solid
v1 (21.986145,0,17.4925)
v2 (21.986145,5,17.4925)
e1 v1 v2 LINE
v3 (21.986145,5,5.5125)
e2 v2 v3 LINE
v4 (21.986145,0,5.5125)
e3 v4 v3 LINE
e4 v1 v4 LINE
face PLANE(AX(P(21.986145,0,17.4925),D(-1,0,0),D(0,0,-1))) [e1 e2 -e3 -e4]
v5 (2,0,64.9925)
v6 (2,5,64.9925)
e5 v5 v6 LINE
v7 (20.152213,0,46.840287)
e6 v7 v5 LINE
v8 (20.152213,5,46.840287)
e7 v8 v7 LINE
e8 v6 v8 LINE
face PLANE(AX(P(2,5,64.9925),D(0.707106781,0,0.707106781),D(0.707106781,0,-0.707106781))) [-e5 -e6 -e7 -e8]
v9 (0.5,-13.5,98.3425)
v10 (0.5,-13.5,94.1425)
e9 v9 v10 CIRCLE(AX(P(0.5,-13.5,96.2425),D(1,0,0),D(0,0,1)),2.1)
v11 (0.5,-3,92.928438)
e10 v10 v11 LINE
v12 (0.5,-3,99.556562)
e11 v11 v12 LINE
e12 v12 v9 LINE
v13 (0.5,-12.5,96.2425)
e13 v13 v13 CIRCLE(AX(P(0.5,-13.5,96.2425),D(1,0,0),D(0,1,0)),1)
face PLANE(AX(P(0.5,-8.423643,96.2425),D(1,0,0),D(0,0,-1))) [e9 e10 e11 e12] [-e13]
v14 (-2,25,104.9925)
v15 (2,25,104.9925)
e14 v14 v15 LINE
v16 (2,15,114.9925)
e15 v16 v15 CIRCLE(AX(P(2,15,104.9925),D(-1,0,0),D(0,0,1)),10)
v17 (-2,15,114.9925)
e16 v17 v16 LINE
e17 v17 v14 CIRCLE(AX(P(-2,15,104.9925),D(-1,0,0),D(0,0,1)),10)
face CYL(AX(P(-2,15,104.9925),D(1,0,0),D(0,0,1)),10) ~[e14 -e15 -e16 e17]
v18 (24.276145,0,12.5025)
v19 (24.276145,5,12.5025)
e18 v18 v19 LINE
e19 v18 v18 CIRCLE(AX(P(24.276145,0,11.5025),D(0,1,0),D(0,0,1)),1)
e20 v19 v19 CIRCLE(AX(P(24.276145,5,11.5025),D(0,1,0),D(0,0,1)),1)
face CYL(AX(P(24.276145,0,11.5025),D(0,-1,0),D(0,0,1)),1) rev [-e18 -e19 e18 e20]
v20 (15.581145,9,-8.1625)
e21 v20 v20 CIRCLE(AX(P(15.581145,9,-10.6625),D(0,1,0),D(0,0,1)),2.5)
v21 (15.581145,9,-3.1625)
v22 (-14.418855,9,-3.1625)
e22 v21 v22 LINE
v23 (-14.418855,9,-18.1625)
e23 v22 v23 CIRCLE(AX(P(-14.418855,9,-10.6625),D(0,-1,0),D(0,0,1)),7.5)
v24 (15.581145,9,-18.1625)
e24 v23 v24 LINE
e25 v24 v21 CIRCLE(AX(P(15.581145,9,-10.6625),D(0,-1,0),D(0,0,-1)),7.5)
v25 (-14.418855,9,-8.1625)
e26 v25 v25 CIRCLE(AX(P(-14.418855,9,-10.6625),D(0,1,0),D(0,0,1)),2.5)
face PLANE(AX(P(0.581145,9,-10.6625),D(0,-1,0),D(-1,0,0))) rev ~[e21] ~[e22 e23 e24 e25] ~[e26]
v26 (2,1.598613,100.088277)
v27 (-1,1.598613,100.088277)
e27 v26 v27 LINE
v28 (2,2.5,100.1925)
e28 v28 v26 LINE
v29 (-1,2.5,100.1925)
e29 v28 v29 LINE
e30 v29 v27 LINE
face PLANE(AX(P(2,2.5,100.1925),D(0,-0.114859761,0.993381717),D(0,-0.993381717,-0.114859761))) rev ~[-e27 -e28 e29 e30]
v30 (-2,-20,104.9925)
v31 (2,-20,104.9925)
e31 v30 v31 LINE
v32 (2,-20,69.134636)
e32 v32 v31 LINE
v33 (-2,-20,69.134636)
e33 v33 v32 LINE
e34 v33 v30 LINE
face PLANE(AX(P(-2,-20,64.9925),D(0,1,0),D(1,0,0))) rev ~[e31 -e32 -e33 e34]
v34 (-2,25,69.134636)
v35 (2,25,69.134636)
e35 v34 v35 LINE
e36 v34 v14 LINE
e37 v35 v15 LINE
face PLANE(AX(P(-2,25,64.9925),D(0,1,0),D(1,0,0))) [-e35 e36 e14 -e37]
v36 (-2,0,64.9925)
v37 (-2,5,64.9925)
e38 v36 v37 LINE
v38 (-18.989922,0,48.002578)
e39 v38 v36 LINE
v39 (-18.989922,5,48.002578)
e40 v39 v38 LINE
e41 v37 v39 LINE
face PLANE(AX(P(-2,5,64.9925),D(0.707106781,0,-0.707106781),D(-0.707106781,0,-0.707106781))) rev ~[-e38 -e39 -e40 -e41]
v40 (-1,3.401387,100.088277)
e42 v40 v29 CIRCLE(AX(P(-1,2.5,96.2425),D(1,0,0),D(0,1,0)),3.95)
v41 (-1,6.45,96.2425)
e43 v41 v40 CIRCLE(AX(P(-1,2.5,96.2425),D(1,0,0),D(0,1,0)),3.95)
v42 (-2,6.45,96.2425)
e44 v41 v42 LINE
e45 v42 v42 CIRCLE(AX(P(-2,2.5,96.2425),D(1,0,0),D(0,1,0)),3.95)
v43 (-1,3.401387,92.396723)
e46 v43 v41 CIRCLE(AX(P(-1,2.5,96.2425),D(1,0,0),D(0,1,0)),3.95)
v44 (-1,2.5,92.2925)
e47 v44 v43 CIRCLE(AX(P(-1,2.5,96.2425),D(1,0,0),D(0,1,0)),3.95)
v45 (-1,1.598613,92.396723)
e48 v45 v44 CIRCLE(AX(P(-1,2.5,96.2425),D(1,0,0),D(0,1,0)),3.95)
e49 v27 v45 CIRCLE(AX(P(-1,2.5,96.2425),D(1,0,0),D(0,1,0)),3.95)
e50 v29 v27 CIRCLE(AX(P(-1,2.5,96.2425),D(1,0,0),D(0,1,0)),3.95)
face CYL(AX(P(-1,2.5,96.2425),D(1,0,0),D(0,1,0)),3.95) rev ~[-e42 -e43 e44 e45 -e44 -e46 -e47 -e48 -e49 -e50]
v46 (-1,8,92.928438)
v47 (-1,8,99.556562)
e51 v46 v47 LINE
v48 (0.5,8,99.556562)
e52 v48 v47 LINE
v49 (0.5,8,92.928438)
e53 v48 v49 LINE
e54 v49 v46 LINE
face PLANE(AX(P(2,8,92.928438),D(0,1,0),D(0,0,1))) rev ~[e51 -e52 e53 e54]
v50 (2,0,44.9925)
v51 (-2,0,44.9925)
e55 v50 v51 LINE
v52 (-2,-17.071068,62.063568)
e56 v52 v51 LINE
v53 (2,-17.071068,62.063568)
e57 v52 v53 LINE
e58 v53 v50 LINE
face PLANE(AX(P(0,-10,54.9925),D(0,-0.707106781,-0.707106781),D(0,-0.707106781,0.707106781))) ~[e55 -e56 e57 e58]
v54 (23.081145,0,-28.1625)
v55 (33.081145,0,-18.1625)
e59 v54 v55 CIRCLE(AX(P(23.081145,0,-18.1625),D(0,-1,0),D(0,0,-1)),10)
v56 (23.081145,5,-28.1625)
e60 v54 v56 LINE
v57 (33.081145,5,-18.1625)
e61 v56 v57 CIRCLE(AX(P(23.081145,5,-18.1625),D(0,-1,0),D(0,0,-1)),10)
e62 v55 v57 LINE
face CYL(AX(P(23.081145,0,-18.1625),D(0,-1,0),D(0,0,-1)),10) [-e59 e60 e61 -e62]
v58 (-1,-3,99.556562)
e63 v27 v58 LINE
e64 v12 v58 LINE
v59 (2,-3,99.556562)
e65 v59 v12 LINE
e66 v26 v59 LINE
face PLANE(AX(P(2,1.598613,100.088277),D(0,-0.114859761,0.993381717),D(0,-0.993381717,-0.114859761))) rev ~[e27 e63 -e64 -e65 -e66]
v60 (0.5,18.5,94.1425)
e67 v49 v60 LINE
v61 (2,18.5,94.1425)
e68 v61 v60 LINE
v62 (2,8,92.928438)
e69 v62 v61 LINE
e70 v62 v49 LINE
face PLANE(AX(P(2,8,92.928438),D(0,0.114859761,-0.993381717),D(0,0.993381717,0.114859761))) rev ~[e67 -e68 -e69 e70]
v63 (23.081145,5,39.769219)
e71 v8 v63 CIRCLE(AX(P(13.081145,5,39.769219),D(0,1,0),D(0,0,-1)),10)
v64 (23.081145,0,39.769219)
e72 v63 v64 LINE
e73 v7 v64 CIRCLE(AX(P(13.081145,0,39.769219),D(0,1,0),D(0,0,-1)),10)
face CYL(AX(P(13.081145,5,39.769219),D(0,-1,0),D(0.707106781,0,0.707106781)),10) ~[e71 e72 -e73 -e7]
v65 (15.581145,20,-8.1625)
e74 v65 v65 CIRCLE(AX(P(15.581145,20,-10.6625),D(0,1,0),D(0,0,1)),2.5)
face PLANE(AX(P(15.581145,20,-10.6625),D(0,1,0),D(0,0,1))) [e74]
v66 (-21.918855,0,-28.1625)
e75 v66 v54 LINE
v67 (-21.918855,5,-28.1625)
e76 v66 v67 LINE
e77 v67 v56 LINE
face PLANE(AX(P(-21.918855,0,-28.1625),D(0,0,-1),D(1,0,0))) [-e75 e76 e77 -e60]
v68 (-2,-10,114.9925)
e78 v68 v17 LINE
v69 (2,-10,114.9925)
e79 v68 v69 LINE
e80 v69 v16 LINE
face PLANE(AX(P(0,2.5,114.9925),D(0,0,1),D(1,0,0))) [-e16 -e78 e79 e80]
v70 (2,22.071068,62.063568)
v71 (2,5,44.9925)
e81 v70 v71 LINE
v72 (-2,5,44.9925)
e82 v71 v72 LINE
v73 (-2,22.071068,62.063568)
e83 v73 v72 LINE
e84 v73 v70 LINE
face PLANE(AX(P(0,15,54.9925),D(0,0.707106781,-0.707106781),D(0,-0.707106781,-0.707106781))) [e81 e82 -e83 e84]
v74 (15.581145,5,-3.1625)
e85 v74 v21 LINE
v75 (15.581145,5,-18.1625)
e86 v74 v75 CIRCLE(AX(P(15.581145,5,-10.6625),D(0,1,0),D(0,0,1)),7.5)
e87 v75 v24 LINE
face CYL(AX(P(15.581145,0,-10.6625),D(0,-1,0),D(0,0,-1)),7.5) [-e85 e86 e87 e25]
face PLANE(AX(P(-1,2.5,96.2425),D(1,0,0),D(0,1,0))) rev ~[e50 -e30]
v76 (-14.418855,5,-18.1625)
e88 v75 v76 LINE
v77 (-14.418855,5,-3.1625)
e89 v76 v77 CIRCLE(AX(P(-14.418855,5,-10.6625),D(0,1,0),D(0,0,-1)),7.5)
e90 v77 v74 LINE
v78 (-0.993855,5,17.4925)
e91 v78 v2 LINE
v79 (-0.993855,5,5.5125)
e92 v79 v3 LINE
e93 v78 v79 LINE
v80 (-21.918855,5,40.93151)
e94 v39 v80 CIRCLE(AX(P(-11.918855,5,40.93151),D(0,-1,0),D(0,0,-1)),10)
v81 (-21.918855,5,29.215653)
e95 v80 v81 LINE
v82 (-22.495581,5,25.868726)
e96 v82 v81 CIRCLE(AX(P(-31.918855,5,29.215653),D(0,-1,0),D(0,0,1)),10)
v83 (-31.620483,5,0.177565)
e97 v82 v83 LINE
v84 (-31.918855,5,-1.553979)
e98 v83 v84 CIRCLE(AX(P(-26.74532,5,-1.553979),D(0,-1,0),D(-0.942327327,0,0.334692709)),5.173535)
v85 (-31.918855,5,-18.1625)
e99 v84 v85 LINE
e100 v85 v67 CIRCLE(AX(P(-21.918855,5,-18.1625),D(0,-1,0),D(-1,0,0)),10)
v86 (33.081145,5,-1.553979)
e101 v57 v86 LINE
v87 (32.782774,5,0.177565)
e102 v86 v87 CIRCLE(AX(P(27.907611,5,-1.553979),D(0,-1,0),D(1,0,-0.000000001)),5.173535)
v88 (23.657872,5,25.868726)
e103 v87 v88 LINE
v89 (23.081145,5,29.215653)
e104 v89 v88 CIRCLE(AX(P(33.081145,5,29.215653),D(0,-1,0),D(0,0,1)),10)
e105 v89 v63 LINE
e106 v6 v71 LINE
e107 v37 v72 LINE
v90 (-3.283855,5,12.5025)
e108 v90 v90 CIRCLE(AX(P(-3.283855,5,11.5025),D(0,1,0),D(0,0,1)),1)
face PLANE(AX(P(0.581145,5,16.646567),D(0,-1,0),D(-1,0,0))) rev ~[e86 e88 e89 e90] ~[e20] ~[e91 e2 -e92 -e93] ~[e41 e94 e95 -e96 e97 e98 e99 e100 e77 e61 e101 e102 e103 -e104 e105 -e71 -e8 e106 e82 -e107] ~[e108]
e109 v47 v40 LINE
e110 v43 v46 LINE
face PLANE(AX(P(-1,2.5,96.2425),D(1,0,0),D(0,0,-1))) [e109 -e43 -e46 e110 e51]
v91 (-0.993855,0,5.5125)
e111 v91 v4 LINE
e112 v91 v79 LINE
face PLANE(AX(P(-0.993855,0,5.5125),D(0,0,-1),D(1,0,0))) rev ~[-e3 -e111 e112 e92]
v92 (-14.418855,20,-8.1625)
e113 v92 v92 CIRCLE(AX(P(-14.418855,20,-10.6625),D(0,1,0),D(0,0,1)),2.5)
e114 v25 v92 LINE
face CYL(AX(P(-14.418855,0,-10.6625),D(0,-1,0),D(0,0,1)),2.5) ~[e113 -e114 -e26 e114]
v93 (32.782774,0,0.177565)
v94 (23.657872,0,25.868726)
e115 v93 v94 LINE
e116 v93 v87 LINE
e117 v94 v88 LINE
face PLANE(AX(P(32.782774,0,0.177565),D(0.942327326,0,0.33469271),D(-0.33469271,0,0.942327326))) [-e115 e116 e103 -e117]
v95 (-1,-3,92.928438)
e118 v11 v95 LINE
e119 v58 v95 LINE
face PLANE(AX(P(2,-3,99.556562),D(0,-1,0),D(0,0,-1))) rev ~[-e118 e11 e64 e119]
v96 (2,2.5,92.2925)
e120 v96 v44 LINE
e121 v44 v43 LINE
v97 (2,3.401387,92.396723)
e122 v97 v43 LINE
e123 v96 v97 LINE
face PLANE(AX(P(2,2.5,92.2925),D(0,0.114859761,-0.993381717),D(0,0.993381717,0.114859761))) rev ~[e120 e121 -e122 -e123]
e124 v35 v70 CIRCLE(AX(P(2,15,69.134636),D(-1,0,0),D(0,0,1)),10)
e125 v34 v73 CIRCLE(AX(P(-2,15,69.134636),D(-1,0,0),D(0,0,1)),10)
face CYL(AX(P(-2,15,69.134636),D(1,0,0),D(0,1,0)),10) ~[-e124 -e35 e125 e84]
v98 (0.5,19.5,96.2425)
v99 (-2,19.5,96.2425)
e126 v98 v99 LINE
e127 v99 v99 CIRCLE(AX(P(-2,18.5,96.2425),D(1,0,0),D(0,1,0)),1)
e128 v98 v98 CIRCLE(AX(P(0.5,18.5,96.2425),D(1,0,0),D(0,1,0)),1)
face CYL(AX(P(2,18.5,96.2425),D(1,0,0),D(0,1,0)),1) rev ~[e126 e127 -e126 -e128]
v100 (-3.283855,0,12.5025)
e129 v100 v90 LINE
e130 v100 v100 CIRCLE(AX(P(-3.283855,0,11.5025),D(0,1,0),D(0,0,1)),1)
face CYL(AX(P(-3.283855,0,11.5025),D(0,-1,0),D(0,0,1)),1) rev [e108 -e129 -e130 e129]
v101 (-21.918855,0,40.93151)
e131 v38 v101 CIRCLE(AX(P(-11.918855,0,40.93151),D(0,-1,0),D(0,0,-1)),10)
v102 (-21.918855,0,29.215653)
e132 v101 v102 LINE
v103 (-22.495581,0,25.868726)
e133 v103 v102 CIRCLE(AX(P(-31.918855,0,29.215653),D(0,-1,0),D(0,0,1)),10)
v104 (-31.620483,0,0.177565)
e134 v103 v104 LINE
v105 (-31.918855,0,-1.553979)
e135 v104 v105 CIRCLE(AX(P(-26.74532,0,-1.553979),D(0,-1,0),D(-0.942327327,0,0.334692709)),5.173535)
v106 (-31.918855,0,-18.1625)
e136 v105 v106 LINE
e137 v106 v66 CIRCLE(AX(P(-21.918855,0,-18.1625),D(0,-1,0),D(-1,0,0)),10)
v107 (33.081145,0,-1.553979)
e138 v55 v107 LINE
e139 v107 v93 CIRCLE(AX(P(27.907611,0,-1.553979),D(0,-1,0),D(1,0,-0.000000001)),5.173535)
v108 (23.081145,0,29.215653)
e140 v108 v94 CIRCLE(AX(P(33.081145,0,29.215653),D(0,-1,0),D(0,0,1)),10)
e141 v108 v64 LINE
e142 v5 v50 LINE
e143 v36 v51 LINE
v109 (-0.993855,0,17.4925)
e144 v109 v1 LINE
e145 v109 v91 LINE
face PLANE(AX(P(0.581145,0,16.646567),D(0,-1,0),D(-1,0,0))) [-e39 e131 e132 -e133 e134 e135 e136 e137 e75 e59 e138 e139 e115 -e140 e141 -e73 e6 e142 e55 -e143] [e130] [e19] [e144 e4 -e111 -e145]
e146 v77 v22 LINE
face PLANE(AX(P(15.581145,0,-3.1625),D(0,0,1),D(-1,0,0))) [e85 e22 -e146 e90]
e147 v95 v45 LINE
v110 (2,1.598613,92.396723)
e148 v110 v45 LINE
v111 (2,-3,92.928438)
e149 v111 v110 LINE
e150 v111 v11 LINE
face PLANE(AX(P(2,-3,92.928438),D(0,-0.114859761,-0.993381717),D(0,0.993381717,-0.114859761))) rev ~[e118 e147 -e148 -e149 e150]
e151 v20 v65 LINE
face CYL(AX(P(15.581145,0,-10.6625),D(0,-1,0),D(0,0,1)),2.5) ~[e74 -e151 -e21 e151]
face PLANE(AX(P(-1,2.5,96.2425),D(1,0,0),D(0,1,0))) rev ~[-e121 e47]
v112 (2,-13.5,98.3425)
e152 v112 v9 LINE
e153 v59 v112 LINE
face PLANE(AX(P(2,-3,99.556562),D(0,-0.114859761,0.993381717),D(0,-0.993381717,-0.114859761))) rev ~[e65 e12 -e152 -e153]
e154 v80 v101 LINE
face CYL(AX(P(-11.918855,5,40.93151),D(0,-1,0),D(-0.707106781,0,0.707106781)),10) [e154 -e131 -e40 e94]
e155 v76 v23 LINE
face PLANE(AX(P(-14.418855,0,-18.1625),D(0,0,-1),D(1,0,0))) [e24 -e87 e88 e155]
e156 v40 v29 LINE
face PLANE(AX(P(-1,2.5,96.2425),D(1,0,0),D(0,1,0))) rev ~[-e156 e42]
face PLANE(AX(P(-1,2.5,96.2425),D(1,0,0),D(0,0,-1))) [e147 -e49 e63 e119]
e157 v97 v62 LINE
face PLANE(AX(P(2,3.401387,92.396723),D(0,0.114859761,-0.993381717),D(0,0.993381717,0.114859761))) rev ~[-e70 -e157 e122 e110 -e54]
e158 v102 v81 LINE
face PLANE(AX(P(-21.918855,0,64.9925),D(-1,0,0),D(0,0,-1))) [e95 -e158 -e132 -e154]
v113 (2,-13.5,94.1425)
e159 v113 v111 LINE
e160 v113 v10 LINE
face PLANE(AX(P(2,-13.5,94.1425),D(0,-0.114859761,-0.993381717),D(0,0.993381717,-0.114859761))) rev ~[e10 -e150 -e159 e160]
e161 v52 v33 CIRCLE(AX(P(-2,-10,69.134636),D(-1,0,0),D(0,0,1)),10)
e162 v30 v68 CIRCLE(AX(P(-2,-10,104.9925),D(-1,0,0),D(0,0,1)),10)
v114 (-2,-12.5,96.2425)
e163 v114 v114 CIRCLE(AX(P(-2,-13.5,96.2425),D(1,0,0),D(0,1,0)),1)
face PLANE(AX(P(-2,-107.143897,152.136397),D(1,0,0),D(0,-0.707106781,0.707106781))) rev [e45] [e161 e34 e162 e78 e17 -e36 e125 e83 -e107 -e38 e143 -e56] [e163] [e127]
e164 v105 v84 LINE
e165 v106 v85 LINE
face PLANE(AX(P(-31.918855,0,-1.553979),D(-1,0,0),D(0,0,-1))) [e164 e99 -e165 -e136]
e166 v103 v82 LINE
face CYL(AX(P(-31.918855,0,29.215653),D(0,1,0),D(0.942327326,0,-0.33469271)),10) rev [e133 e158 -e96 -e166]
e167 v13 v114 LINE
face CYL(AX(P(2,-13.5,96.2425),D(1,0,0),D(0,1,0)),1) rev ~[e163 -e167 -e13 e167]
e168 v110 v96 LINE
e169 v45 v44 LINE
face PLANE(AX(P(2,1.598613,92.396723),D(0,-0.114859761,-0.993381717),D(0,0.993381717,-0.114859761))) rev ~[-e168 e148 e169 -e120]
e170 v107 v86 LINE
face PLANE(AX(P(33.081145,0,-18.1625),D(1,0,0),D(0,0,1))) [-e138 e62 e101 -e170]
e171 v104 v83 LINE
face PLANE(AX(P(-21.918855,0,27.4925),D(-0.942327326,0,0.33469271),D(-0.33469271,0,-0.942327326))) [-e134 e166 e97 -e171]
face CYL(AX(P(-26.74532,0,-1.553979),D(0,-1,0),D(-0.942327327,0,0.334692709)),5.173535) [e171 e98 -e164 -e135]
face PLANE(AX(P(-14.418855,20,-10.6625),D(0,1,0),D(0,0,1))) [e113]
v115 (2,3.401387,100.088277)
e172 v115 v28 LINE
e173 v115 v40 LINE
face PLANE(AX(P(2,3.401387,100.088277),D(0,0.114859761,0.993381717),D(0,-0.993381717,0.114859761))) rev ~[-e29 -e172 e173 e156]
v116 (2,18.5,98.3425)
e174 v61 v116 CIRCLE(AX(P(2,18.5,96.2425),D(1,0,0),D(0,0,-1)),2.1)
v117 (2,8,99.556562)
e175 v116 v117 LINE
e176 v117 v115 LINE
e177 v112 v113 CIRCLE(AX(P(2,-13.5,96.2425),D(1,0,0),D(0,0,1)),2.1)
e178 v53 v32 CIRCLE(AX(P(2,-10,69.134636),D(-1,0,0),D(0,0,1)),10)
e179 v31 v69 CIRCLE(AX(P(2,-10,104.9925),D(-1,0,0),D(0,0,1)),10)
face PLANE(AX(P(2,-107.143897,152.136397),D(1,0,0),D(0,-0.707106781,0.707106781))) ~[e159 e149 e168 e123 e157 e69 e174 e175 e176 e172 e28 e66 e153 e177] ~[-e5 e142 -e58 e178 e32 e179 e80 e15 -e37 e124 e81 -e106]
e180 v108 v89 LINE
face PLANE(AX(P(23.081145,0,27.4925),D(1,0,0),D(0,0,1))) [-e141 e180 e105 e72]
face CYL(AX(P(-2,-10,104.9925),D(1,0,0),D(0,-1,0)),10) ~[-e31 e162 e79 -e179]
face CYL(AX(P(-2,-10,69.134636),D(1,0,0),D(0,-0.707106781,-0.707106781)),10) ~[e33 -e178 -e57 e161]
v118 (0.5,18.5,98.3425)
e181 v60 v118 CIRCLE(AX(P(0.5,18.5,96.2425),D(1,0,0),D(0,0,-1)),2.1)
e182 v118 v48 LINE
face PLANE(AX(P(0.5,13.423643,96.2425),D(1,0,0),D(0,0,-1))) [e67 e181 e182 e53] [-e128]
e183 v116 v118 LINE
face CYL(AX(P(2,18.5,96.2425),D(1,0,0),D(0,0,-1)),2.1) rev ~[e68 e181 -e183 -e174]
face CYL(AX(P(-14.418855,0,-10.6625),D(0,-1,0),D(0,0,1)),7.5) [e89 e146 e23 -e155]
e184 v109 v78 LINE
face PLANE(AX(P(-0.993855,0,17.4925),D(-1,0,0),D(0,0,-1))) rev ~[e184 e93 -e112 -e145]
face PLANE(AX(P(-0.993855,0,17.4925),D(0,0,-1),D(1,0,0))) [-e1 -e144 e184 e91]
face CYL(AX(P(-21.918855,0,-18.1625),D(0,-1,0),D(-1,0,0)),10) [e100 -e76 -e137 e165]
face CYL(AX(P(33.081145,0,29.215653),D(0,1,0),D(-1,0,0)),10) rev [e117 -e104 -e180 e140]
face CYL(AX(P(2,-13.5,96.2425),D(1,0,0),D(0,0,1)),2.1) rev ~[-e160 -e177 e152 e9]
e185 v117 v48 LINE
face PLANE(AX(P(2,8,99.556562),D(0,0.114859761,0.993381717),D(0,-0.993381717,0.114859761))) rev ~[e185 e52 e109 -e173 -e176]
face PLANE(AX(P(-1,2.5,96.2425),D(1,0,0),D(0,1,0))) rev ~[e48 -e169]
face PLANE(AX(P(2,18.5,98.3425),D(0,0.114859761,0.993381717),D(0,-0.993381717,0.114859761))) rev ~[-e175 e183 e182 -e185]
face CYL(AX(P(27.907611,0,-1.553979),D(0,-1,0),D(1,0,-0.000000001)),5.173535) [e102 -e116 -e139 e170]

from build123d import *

# Parameters (mm, degrees)
SKETCH1_R           = 1
SKETCH1_W           = 22.98
SKETCH1_H           = 11.98
BOSS_EXTRUDE1_DEPTH = 5
SKETCH1_3_R         = 2.5
BOSS_EXTRUDE2_DEPTH = 9
SKETCH1_4_R         = 2.5
BOSS_EXTRUDE3_DEPTH = 20
SKETCH2_W           = 4
SKETCH2_H           = 45
BOSS_EXTRUDE4_DEPTH = 50
CUT_EXTRUDE1_DEPTH  = 123.24008033
RIB8_REACH          = 124.24
SKETCH7_WALL_W      = 274.764431908
SKETCH7_WALL_H      = 4
CUT_EXTRUDE2_DEPTH  = 3
SKETCH8_3_R         = 1
CUT_EXTRUDE3_DEPTH  = 123.469440072
FILLET1_R           = 10
SKETCH8_4_R         = 1
CUT_EXTRUDE4_DEPTH  = 1.5
SKETCH9_R           = 3.95
CUT_EXTRUDE5_DEPTH  = 10


with BuildPart() as part:
    # Sketch1 → Boss-Extrude1 (new body)
    with BuildSketch(Plane(origin=(0, 0, 0), x_dir=(1, 0, 0), z_dir=(0, 1, 0))):
        with BuildLine():
            Line((-31.918854571, 1.553979184), (-31.918854571, 18.1625))
            ThreePointArc((-31.918854571, 18.1625), (-28.989922383, 25.233567812), (-21.918854571, 28.1625))
            Line((-21.918854571, 28.1625), (23.081145429, 28.1625))
            ThreePointArc((23.081145429, 28.1625), (30.152213241, 25.233567812), (33.081145429, 18.1625))
            Line((33.081145429, 18.1625), (33.081145429, 1.553979184))
            ThreePointArc((33.081145429, 1.553979184), (33.006006891, 0.67544752), (32.782773845, -0.177565195))
            Line((32.782773845, -0.177565195), (23.081145429, -27.4925))
            Line((23.081145429, -27.4925), (23.081145429, -64.9925))
            Line((23.081145429, -64.9925), (-21.918854571, -64.9925))
            Line((-21.918854571, -64.9925), (-21.918854571, -27.4925))
            Line((-21.918854571, -27.4925), (-31.620482987, -0.177565195))
            ThreePointArc((-31.620482987, -0.177565195), (-31.843716032, 0.67544752), (-31.918854571, 1.553979184))
        make_face()
        with Locations(Location((-3.283854571, -11.5025, 0), (0, 0, 270))):
            Circle(SKETCH1_R, mode=Mode.SUBTRACT)
        with Locations(Location((24.276145429, -11.5025, 0), (0, 0, 270))):
            Circle(SKETCH1_R, mode=Mode.SUBTRACT)
        with Locations((10.496145429, -11.5025)):
            Rectangle(SKETCH1_W, SKETCH1_H, mode=Mode.SUBTRACT)
        with BuildLine():
            Line((15.581145429, 18.1625), (-14.418854571, 18.1625))
            ThreePointArc((-14.418854571, 18.1625), (-21.918854571, 10.6625), (-14.418854571, 3.1625))
            Line((-14.418854571, 3.1625), (15.581145429, 3.1625))
            ThreePointArc((15.581145429, 3.1625), (23.081145429, 10.6625), (15.581145429, 18.1625))
        make_face(mode=Mode.SUBTRACT)
    extrude(amount=BOSS_EXTRUDE1_DEPTH)

    # Sketch1<3> → Boss-Extrude2 (add)
    with BuildSketch(Plane(origin=(0, 0, 0), x_dir=(1, 0, 0), z_dir=(0, 1, 0))):
        with BuildLine():
            ThreePointArc((15.581145429, 18.1625), (23.081145429, 10.6625), (15.581145429, 3.1625))
            Line((15.581145429, 3.1625), (-14.418854571, 3.1625))
            ThreePointArc((-14.418854571, 3.1625), (-21.918854571, 10.6625), (-14.418854571, 18.1625))
            Line((-14.418854571, 18.1625), (15.581145429, 18.1625))
        make_face()
        with Locations(Location((-14.418854571, 10.6625, 0), (0, 0, 270))):
            Circle(SKETCH1_3_R, mode=Mode.SUBTRACT)
        with Locations(Location((15.581145429, 10.6625, 0), (0, 0, 270))):
            Circle(SKETCH1_3_R, mode=Mode.SUBTRACT)
    extrude(amount=BOSS_EXTRUDE2_DEPTH)

    # Sketch1<4> → Boss-Extrude3 (add)
    with BuildSketch(Plane(origin=(0, 0, 0), x_dir=(1, 0, 0), z_dir=(0, 1, 0))):
        with Locations(Location((15.581145429, 10.6625, 0), (0, 0, 270))):
            Circle(SKETCH1_4_R)
        with Locations(Location((-14.418854571, 10.6625, 0), (0, 0, 270))):
            Circle(SKETCH1_4_R)
    extrude(amount=BOSS_EXTRUDE3_DEPTH)

    # Sketch2 → Boss-Extrude4 (add)
    with BuildSketch(Plane.XY.offset(64.9925)):
        with Locations((0, 2.5)):
            Rectangle(SKETCH2_W, SKETCH2_H)
    extrude(amount=BOSS_EXTRUDE4_DEPTH)

    # Sketch6 → Cut-Extrude1 (cut, through all)
    with BuildSketch(Plane(origin=(0, 5, 0), x_dir=(1, 0, 0), z_dir=(0, 1, 0))):
        Polygon((-2, -64.9925), (-21.918854571, -45.073645429), (-21.918854571, -64.9925), align=None)
        Polygon((2, -64.9925), (23.081145429, -43.911354571), (23.081145429, -64.9925), align=None)
    extrude(amount=-CUT_EXTRUDE1_DEPTH, mode=Mode.SUBTRACT)

    # Sketch7 wall → Rib8 (add, up to next)
    with BuildSketch(Plane(origin=(0, 15, 54.9925), x_dir=(0, -0.707106781187, -0.707106781187), z_dir=(0, 0.707106781187, -0.707106781187)), mode=Mode.PRIVATE) as rib8_sk1:
        Rectangle(SKETCH7_WALL_W, SKETCH7_WALL_H)
    rib8_tool1 = extrude(rib8_sk1.sketch, amount=-RIB8_REACH, mode=Mode.PRIVATE) - part.part
    rib8 = rib8_tool1.solids().sort_by_distance((0, 15, 54.9925))[0]
    add(rib8)

    # Mirror2: Rib8 across plane
    add(rib8.mirror(Plane.ZX.offset(2.5)))

    # Sketch8 → Cut-Extrude2 (cut)
    with BuildSketch(Plane(origin=(2, 0, 0), x_dir=(0, 0, -1), z_dir=(1, 0, 0))):
        Polygon((-92.9284375, 8), (-99.5565625, 8), (-100.088277159, 3.401386734), (-100.1925, 2.5), (-100.088277159, 1.598613266), (-99.5565625, -3), (-92.9284375, -3), (-92.396722841, 1.598613266), (-92.2925, 2.5), (-92.396722841, 3.401386734), align=None)
    extrude(amount=-CUT_EXTRUDE2_DEPTH, mode=Mode.SUBTRACT)

    # Sketch8<3> → Cut-Extrude3 (cut, through all)
    with BuildSketch(Plane(origin=(2, 0, 0), x_dir=(0, 0, -1), z_dir=(1, 0, 0))):
        with Locations(Location((-96.2425, 18.5, 0), (0, 0, 90))):
            Circle(SKETCH8_3_R)
        with Locations(Location((-96.2425, -13.5, 0), (0, 0, 90))):
            Circle(SKETCH8_3_R)
    extrude(amount=-CUT_EXTRUDE3_DEPTH, mode=Mode.SUBTRACT)

    # Fillet1
    fillet1_edges = [part.edges().sort_by_distance(p)[0] for p in [
        (0, 25, 64.9925),
        (0, 25, 114.9925),
        (0, -20, 64.9925),
        (0, -20, 114.9925),
        (-21.918854571, 2.5, 45.073645429),
        (23.081145429, 2.5, 43.911354571),
        (23.081145429, 2.5, 27.4925),
        (-21.918854571, 2.5, 27.4925),
    ]]
    fillet(fillet1_edges, radius=FILLET1_R)

    # Sketch8<4> → Cut-Extrude4 (cut)
    # profile 1 of 2: a face of its own
    with BuildSketch(Plane(origin=(2, 0, 0), x_dir=(0, 0, -1), z_dir=(1, 0, 0))):
        with BuildLine():
            ThreePointArc((-94.1425, 18.5), (-96.2425, 20.6), (-98.3425, 18.5))
            Line((-98.3425, 18.5), (-99.5565625, 8))
            Line((-99.5565625, 8), (-92.9284375, 8))
            Line((-92.9284375, 8), (-94.1425, 18.5))
        make_face()
        with Locations(Location((-96.2425, 18.5, 0), (0, 0, 90))):
            Circle(SKETCH8_4_R, mode=Mode.SUBTRACT)
    # profile 2 of 2: a face of its own
    with BuildSketch(Plane(origin=(2, 0, 0), x_dir=(0, 0, -1), z_dir=(1, 0, 0))):
        with BuildLine():
            Line((-92.9284375, -3), (-99.5565625, -3))
            Line((-99.5565625, -3), (-98.3425, -13.5))
            ThreePointArc((-98.3425, -13.5), (-96.2425, -15.6), (-94.1425, -13.5))
            Line((-94.1425, -13.5), (-92.9284375, -3))
        make_face()
        with Locations(Location((-96.2425, -13.5, 0), (0, 0, 90))):
            Circle(SKETCH8_4_R, mode=Mode.SUBTRACT)
    extrude(amount=-CUT_EXTRUDE4_DEPTH, mode=Mode.SUBTRACT)

    # Sketch9 → Cut-Extrude5 (cut)
    with BuildSketch(Plane(origin=(-1, 0, 0), x_dir=(0, 0, -1), z_dir=(1, 0, 0))):
        with Locations(Location((-96.2425, 2.5, 0), (0, 0, 90))):
            Circle(SKETCH9_R)
    extrude(amount=-CUT_EXTRUDE5_DEPTH, mode=Mode.SUBTRACT)


solid = part.part
